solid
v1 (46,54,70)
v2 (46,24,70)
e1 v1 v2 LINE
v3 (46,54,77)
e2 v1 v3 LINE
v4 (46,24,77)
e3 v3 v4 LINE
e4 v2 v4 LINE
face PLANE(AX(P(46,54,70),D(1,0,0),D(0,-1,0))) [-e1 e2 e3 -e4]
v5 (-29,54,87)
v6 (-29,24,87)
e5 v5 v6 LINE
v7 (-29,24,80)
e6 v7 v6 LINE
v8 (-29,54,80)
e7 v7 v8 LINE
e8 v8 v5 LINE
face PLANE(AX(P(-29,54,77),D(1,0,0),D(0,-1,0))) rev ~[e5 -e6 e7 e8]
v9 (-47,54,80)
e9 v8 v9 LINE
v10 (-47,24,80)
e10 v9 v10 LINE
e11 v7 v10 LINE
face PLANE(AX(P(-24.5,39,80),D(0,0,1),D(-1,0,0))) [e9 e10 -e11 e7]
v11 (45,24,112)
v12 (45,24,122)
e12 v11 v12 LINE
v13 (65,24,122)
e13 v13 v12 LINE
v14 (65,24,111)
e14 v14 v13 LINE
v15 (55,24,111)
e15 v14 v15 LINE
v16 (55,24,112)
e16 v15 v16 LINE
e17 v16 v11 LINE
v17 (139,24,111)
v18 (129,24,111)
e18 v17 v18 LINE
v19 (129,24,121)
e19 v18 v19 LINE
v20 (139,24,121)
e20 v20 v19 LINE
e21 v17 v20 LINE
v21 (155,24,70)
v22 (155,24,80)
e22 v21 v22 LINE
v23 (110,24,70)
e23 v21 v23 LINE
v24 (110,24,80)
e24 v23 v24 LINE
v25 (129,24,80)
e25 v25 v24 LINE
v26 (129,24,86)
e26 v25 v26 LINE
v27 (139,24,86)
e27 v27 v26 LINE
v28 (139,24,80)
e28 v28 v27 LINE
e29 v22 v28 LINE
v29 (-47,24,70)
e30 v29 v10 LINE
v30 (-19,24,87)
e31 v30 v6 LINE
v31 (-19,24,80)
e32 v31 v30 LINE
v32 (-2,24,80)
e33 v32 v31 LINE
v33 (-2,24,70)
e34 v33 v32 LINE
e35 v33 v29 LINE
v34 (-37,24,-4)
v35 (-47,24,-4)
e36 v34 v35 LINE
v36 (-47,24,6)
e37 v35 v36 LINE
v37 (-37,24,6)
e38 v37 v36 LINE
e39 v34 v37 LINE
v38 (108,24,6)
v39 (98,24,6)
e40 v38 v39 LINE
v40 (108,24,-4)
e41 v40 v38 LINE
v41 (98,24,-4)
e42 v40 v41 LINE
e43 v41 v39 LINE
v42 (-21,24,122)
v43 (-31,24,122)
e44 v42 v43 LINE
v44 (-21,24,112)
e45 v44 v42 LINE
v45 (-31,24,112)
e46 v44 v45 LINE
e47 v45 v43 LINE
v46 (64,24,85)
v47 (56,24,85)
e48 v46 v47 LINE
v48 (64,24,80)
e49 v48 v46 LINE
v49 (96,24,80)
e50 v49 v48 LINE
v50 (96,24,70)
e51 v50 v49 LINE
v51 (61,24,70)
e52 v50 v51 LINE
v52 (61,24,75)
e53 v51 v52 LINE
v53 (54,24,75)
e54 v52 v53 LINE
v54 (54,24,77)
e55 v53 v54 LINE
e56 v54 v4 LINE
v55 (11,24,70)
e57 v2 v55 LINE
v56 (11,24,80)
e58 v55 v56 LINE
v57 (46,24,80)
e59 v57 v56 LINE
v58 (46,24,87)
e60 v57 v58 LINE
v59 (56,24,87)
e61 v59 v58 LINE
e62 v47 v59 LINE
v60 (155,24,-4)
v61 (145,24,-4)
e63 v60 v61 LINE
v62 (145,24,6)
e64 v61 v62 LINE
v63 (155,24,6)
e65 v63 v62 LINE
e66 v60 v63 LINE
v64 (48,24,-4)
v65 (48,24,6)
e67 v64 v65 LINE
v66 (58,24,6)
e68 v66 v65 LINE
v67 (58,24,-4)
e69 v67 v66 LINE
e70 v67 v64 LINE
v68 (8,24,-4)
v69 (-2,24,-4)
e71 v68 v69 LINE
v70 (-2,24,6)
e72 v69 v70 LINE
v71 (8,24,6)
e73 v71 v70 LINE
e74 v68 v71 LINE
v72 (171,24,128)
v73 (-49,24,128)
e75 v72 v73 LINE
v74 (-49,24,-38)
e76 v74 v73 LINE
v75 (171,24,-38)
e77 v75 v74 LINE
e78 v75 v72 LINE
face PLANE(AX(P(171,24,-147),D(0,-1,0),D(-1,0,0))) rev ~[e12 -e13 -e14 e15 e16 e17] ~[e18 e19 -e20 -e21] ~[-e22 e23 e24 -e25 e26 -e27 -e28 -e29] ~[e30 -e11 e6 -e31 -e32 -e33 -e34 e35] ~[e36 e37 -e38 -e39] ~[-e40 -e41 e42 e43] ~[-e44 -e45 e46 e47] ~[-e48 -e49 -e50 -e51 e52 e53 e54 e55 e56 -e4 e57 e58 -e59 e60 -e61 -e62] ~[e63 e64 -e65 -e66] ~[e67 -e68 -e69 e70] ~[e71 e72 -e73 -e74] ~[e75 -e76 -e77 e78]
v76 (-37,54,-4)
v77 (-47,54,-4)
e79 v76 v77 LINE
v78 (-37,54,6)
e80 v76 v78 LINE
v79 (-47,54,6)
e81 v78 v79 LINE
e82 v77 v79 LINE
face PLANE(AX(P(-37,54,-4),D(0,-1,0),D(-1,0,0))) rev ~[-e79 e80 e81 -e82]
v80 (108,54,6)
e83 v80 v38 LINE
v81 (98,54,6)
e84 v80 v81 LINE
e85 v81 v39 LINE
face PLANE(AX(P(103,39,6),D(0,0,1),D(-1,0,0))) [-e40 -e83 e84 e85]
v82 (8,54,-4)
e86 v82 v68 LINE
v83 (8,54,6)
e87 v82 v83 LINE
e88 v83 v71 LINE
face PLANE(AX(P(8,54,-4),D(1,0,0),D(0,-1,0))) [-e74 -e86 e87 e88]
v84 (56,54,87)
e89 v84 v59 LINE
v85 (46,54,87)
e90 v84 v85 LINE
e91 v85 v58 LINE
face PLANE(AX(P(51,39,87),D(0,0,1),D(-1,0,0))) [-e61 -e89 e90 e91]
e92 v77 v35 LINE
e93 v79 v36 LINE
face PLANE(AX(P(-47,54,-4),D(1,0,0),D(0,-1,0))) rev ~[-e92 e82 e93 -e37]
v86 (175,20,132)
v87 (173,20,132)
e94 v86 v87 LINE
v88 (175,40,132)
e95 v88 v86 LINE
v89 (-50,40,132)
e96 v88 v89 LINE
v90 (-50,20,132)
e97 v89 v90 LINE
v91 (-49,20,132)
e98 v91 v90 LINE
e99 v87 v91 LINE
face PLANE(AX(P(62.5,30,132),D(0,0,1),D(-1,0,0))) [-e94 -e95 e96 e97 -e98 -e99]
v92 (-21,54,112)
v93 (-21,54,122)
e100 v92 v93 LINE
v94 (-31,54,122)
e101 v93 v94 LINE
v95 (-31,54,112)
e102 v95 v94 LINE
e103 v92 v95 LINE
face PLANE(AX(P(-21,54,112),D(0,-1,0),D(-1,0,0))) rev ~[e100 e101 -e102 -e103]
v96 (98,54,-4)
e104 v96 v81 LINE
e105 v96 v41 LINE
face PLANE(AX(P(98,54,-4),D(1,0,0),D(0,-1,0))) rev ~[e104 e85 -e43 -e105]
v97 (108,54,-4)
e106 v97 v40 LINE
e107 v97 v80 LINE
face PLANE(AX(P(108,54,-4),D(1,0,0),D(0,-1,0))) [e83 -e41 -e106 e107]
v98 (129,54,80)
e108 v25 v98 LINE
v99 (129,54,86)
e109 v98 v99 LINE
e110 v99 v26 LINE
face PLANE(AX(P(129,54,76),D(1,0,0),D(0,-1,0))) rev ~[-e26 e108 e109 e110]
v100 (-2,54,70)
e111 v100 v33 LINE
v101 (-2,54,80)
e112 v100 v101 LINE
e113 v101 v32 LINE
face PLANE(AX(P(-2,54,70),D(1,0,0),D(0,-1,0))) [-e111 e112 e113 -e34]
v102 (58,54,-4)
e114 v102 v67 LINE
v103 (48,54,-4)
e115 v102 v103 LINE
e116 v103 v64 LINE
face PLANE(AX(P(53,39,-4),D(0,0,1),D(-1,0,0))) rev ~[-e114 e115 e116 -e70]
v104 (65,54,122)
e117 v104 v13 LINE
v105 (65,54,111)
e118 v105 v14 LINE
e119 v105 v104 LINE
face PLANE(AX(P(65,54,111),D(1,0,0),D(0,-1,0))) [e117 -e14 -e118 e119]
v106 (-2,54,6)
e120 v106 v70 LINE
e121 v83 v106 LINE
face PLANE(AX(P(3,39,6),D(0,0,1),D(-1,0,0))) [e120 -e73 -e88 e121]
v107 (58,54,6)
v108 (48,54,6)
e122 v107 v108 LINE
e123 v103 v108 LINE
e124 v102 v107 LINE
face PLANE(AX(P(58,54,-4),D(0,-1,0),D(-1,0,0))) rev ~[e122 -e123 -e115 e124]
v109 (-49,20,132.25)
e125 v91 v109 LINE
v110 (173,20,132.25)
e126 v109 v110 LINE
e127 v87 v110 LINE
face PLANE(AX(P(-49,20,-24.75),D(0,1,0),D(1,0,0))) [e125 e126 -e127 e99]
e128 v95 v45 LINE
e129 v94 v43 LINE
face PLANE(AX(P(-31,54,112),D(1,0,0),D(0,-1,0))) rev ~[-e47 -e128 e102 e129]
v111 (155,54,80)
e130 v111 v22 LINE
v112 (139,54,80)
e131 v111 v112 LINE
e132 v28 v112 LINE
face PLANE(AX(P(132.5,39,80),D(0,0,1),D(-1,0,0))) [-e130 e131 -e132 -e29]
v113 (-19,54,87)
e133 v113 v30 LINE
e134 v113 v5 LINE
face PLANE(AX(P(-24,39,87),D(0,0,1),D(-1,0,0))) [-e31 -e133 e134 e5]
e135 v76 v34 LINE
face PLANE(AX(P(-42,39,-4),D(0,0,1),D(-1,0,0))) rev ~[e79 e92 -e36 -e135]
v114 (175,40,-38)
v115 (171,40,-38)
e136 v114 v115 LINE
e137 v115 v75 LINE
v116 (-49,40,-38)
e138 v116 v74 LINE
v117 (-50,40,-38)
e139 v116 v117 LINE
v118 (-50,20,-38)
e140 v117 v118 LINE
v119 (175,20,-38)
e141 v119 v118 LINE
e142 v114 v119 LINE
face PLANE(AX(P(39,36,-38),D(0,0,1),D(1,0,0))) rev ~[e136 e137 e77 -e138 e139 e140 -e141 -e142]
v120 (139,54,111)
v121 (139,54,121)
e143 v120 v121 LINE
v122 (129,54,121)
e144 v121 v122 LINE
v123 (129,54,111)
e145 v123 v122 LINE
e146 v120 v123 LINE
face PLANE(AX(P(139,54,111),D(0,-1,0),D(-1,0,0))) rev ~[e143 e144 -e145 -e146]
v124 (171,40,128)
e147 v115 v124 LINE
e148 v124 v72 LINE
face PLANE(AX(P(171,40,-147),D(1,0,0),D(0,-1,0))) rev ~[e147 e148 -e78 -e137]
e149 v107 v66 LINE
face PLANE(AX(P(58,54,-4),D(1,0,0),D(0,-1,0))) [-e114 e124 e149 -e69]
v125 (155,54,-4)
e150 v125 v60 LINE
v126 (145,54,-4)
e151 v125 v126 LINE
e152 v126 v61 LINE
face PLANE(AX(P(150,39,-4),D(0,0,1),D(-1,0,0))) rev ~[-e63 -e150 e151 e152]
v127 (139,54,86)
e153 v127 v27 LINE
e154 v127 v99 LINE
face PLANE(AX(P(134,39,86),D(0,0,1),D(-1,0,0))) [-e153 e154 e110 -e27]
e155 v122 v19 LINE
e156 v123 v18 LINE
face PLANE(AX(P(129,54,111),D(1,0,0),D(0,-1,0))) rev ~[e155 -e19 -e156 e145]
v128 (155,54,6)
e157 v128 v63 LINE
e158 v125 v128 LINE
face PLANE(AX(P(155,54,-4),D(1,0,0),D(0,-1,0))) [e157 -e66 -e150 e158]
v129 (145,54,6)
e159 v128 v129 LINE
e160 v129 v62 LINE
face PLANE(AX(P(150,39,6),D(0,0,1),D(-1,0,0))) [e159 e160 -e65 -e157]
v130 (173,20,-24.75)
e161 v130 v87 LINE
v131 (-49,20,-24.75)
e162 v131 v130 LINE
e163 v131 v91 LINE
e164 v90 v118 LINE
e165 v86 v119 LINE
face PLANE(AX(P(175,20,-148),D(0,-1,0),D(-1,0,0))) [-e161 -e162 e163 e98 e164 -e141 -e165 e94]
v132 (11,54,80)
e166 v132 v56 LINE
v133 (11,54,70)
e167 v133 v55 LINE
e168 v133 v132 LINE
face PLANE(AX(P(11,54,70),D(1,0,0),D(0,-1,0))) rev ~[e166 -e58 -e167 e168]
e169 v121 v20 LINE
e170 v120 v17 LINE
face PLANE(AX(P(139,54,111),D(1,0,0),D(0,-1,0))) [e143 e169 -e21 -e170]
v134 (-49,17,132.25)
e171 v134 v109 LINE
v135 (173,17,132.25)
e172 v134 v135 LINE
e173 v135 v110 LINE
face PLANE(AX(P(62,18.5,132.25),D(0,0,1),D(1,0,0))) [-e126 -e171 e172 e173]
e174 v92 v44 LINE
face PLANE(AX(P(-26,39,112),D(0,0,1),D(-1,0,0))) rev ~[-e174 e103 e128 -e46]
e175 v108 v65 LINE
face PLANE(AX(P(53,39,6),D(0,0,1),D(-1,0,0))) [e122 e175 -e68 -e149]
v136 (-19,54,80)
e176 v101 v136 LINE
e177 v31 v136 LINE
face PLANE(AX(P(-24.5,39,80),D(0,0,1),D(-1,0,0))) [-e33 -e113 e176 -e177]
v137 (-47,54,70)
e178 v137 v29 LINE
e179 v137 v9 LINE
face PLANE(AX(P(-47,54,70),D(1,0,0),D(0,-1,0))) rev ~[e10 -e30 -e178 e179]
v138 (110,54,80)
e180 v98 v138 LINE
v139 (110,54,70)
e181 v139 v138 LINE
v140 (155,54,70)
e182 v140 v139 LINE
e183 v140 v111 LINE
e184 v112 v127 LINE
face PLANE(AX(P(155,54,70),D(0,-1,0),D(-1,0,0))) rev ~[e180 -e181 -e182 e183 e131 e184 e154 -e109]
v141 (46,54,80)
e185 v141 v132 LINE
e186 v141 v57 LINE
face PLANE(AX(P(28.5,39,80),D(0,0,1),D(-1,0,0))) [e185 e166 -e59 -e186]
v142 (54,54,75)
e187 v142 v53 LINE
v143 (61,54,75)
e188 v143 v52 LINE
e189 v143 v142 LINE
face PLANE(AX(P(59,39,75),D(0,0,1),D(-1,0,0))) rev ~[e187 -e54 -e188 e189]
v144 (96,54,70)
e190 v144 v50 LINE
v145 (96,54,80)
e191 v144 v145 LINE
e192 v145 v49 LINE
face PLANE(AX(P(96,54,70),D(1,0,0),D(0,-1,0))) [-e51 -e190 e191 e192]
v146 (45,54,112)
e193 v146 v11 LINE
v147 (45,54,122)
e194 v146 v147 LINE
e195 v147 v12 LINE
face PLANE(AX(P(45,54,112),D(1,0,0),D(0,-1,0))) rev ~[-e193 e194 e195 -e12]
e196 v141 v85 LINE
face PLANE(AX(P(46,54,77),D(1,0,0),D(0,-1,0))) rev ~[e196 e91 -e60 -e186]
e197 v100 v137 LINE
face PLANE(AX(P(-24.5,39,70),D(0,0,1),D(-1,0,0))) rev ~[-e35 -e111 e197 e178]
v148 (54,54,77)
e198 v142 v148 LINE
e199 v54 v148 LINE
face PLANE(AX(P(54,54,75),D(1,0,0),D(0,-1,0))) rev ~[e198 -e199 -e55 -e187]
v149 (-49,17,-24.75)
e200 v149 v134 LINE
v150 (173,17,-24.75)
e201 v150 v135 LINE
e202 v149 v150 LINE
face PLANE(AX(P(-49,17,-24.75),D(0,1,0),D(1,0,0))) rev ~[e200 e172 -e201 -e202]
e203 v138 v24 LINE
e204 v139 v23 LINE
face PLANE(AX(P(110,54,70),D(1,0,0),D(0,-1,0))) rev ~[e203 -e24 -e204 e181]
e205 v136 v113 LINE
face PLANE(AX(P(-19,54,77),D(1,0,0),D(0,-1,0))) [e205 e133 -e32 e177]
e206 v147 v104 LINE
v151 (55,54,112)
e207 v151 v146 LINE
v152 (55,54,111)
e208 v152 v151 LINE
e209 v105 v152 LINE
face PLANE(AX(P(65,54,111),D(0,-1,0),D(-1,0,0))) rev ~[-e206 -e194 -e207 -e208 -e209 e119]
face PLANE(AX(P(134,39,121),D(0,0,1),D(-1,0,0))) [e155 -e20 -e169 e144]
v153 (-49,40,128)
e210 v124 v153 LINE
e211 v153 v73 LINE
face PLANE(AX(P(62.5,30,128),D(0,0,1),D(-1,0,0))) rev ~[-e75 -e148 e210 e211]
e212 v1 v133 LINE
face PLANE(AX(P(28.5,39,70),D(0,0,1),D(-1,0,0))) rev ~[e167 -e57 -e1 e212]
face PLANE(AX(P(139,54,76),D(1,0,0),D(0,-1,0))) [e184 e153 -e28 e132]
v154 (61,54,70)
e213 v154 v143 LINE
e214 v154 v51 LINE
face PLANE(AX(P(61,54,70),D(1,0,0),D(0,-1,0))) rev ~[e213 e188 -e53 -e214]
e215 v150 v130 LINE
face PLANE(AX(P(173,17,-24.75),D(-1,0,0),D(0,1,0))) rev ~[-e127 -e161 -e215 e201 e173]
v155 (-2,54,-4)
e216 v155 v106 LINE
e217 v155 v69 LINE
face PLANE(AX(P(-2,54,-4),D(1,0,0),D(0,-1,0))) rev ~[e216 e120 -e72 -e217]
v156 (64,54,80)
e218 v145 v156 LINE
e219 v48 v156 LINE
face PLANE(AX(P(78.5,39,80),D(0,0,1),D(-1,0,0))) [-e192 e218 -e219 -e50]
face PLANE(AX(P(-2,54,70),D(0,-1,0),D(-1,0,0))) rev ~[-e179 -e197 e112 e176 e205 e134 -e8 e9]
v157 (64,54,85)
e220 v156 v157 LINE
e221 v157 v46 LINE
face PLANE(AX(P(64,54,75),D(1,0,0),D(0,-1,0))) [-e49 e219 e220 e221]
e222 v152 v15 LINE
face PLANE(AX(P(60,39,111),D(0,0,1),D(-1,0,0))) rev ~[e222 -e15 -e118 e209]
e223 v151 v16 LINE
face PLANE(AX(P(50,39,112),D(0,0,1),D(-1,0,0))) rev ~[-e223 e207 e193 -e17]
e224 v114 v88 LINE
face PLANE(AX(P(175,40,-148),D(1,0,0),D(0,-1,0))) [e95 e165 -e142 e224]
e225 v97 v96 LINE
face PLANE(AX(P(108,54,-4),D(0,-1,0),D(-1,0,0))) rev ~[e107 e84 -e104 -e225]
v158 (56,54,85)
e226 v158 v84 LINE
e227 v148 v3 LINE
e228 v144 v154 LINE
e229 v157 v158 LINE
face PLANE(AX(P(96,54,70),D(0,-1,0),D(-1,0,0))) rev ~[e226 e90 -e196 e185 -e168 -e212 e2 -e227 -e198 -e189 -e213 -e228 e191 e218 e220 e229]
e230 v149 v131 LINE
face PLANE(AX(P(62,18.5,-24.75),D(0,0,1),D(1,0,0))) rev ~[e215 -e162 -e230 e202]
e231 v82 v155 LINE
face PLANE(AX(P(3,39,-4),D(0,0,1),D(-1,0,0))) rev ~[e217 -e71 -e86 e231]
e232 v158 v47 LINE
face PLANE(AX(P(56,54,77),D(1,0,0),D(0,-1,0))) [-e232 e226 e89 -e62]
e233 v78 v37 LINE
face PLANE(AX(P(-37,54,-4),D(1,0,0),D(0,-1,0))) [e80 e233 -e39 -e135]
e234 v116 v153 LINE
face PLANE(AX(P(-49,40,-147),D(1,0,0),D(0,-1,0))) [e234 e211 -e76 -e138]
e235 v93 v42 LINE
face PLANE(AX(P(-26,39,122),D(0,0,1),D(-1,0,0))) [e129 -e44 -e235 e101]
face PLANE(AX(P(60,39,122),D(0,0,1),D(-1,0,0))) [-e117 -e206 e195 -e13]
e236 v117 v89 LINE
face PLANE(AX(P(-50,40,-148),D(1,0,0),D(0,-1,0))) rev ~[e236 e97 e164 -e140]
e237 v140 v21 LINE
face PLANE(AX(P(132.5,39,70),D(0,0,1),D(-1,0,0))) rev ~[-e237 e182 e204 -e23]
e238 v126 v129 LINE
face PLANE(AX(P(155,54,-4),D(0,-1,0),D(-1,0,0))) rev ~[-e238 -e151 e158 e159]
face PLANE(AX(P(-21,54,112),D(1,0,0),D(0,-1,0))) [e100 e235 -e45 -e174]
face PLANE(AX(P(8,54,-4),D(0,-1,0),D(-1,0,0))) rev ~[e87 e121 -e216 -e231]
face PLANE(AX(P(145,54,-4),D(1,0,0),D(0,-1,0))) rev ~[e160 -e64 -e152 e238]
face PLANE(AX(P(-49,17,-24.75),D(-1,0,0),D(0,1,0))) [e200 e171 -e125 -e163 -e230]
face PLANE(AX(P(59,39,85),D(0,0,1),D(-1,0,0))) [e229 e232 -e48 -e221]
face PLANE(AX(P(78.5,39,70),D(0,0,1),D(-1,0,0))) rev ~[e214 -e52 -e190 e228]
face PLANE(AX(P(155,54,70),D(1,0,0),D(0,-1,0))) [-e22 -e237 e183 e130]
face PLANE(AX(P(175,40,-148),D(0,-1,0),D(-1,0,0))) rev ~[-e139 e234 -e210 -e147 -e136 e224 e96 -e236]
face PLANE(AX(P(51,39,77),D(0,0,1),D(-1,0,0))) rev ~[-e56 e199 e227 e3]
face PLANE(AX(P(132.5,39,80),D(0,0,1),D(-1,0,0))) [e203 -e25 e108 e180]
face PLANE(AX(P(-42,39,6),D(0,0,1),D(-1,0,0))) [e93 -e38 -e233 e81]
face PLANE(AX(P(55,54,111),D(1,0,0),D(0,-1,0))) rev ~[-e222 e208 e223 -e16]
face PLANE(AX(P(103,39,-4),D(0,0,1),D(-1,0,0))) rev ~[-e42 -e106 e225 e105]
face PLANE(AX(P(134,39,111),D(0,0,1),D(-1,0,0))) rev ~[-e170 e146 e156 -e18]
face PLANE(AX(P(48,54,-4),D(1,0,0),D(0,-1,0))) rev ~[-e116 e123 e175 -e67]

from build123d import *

# Parameters (mm, degrees)
BOX039_W                  = 222
BOX039_H                  = 3
BOX039_DEPTH              = 157
BOX081_W                  = 300
BOX081_H                  = 50
BOX081_DEPTH              = 200
BOX114_W                  = 1
BOX114_H                  = 20
BOX114_DEPTH              = 275
BOX115_W                  = 4
BOX115_H                  = 20
BOX115_DEPTH              = 275
BOX116_W                  = 225
BOX116_H                  = 20
BOX116_DEPTH              = 4
BOX117_W                  = 225
BOX117_H                  = 20
BOX117_DEPTH              = 1
BOX103_W                  = 35
BOX103_H                  = 30
BOX103_DEPTH              = 10
BOX104_W                  = 10
BOX104_H                  = 30
BOX104_DEPTH              = 10
BOX105_W                  = 10
BOX105_H                  = 30
BOX105_DEPTH              = 10
BOX106_W                  = 10
BOX106_H                  = 28.9
BOX106_DEPTH              = 10
BOX091_W                  = 10
BOX091_H                  = 28.9
BOX091_DEPTH              = 10
BOX092_W                  = 10
BOX092_H                  = 28.9
BOX092_DEPTH              = 10
BOX094_W                  = 12
BOX094_H                  = 30
BOX094_DEPTH              = 10
BOX093_W                  = 10
BOX093_H                  = 28.9
BOX093_DEPTH              = 10
BOX095_W                  = 45
BOX095_H                  = 30
BOX095_DEPTH              = 10
BOX097_W                  = 45
BOX097_H                  = 30
BOX097_DEPTH              = 10
BOX096_W                  = 35
BOX096_H                  = 30
BOX096_DEPTH              = 10
BOX098_W                  = 35
BOX098_H                  = 30
BOX098_DEPTH              = 10
BOX099_W                  = 45
BOX099_H                  = 30
BOX099_DEPTH              = 10
BOX100_W                  = 35
BOX100_H                  = 30
BOX100_DEPTH              = 10
BOX101_W                  = 45
BOX101_H                  = 30
BOX101_DEPTH              = 10
BOX082_W                  = 10
BOX082_H                  = 30
BOX082_DEPTH              = 10
BOX102_W                  = 10
BOX102_H                  = 30
BOX102_DEPTH              = 10
BOX083_W                  = 18
BOX083_H                  = 30
BOX083_DEPTH              = 10
BOX084_W                  = 10
BOX084_H                  = 30
BOX084_DEPTH              = 10
BOX085_W                  = 10
BOX085_H                  = 30
BOX085_DEPTH              = 10
BOX086_W                  = 10
BOX086_H                  = 30
BOX086_DEPTH              = 10
BOX087_W                  = 10
BOX087_H                  = 30
BOX087_DEPTH              = 10
BOX113_W                  = 10
BOX113_H                  = 30
BOX113_DEPTH              = 10
BOX112_W                  = 10
BOX112_H                  = 30
BOX112_DEPTH              = 10
BOX111_W                  = 10
BOX111_H                  = 30
BOX111_DEPTH              = 10
BOX109_W                  = 10
BOX109_H                  = 30
BOX109_DEPTH              = 10
BOX108_W                  = 10
BOX108_H                  = 30
BOX108_DEPTH              = 10
BOX088_W                  = 10
BOX088_H                  = 30
BOX088_DEPTH              = 11
BOX089_W                  = 10
BOX089_H                  = 30
BOX089_DEPTH              = 10
BOX090_W                  = 10
BOX090_H                  = 30
BOX090_DEPTH              = 10
BOX110_W                  = 10
BOX110_H                  = 30
BOX110_DEPTH              = 10
BOX107_W                  = 220
BOX107_H                  = 4
BOX107_DEPTH              = 275
FUSION013_PLACEMENT_ANGLE = 180
BOX150_W                  = 1
BOX150_H                  = 20
BOX150_DEPTH              = 275
BOX151_W                  = 4
BOX151_H                  = 20
BOX151_DEPTH              = 275
BOX152_W                  = 225
BOX152_H                  = 20
BOX152_DEPTH              = 4
BOX153_W                  = 225
BOX153_H                  = 20
BOX153_DEPTH              = 1
BOX119_W                  = 35
BOX119_H                  = 30
BOX119_DEPTH              = 10
BOX120_W                  = 10
BOX120_H                  = 30
BOX120_DEPTH              = 10
BOX121_W                  = 10
BOX121_H                  = 30
BOX121_DEPTH              = 10
BOX122_W                  = 10
BOX122_H                  = 28.9
BOX122_DEPTH              = 10
BOX123_W                  = 10
BOX123_H                  = 28.9
BOX123_DEPTH              = 10
BOX124_W                  = 10
BOX124_H                  = 28.9
BOX124_DEPTH              = 10
BOX126_W                  = 12
BOX126_H                  = 30
BOX126_DEPTH              = 10
BOX125_W                  = 10
BOX125_H                  = 28.9
BOX125_DEPTH              = 10
BOX127_W                  = 45
BOX127_H                  = 30
BOX127_DEPTH              = 10
BOX129_W                  = 45
BOX129_H                  = 30
BOX129_DEPTH              = 10
BOX128_W                  = 35
BOX128_H                  = 30
BOX128_DEPTH              = 10
BOX130_W                  = 35
BOX130_H                  = 30
BOX130_DEPTH              = 10
BOX131_W                  = 45
BOX131_H                  = 30
BOX131_DEPTH              = 10
BOX132_W                  = 35
BOX132_H                  = 30
BOX132_DEPTH              = 10
BOX133_W                  = 45
BOX133_H                  = 30
BOX133_DEPTH              = 10
BOX135_W                  = 10
BOX135_H                  = 30
BOX135_DEPTH              = 10
BOX134_W                  = 10
BOX134_H                  = 30
BOX134_DEPTH              = 10
BOX136_W                  = 18
BOX136_H                  = 30
BOX136_DEPTH              = 10
BOX137_W                  = 10
BOX137_H                  = 30
BOX137_DEPTH              = 10
BOX138_W                  = 10
BOX138_H                  = 30
BOX138_DEPTH              = 10
BOX139_W                  = 10
BOX139_H                  = 30
BOX139_DEPTH              = 10
BOX140_W                  = 10
BOX140_H                  = 30
BOX140_DEPTH              = 10
BOX149_W                  = 10
BOX149_H                  = 30
BOX149_DEPTH              = 10
BOX148_W                  = 10
BOX148_H                  = 30
BOX148_DEPTH              = 10
BOX147_W                  = 10
BOX147_H                  = 30
BOX147_DEPTH              = 10
BOX145_W                  = 10
BOX145_H                  = 30
BOX145_DEPTH              = 10
BOX144_W                  = 10
BOX144_H                  = 30
BOX144_DEPTH              = 10
BOX141_W                  = 10
BOX141_H                  = 30
BOX141_DEPTH              = 11
BOX142_W                  = 10
BOX142_H                  = 30
BOX142_DEPTH              = 10
BOX143_W                  = 10
BOX143_H                  = 30
BOX143_DEPTH              = 10
BOX146_W                  = 10
BOX146_H                  = 30
BOX146_DEPTH              = 10
BOX118_W                  = 220
BOX118_H                  = 4
BOX118_DEPTH              = 275
FUSION015_PLACEMENT_ANGLE = 180


with BuildPart() as cubo039:
    # Box039 → Box039 (new body)
    with BuildSketch(Plane(origin=(-49, 17, -24.75), x_dir=(1, 0, 0), z_dir=(0, 0, 1))):
        with Locations((111, 1.5)):
            Rectangle(BOX039_W, BOX039_H)
    extrude(amount=BOX039_DEPTH)


with BuildPart() as cubo081:
    # Box081 → Box081 (new body)
    with BuildSketch(Plane(origin=(-111, 11, -38), x_dir=(1, 0, 0), z_dir=(0, 0, 1))):
        with Locations((150, 25)):
            Rectangle(BOX081_W, BOX081_H)
    extrude(amount=BOX081_DEPTH)


with BuildPart() as cubo114:
    # Box114 → Box114 (new body)
    with BuildSketch(Plane(origin=(-49, 40, -147), x_dir=(-1, 0, 0), z_dir=(0, 0, 1))):
        with Locations((0.5, 10)):
            Rectangle(BOX114_W, BOX114_H)
    extrude(amount=BOX114_DEPTH)


with BuildPart() as cubo115:
    # Box115 → Box115 (new body)
    with BuildSketch(Plane(origin=(175, 40, -147), x_dir=(-1, 0, 0), z_dir=(0, 0, 1))):
        with Locations((2, 10)):
            Rectangle(BOX115_W, BOX115_H)
    extrude(amount=BOX115_DEPTH)


with BuildPart() as cubo116:
    # Box116 → Box116 (new body)
    with BuildSketch(Plane(origin=(175, 40, 128), x_dir=(-1, 0, 0), z_dir=(0, 0, 1))):
        with Locations((112.5, 10)):
            Rectangle(BOX116_W, BOX116_H)
    extrude(amount=BOX116_DEPTH)


with BuildPart() as cubo117:
    # Box117 → Box117 (new body)
    with BuildSketch(Plane(origin=(175, 40, -148), x_dir=(-1, 0, 0), z_dir=(0, 0, 1))):
        with Locations((112.5, 10)):
            Rectangle(BOX117_W, BOX117_H)
    extrude(amount=BOX117_DEPTH)


with BuildPart() as cubo103:
    # Box103 → Box103 (new body)
    with BuildSketch(Plane(origin=(-96, -54, 70), x_dir=(1, 0, 0), z_dir=(0, 0, 1))):
        with Locations((17.5, 15)):
            Rectangle(BOX103_W, BOX103_H)
    extrude(amount=BOX103_DEPTH)


with BuildPart() as cubo104:
    # Box104 → Box104 (new body)
    with BuildSketch(Plane(origin=(-142, -54, -110), x_dir=(1, 0, 0), z_dir=(0, 0, 1))):
        with Locations((5, 15)):
            Rectangle(BOX104_W, BOX104_H)
    extrude(amount=BOX104_DEPTH)


with BuildPart() as cubo105:
    # Box105 → Box105 (new body)
    with BuildSketch(Plane(origin=(-142, -54, -125), x_dir=(1, 0, 0), z_dir=(0, 0, 1))):
        with Locations((5, 15)):
            Rectangle(BOX105_W, BOX105_H)
    extrude(amount=BOX105_DEPTH)


with BuildPart() as cubo106:
    # Box106 → Box106 (new body)
    with BuildSketch(Plane(origin=(-106, -54, -115), x_dir=(1, 0, 0), z_dir=(0, 0, 1))):
        with Locations((5, 14.45)):
            Rectangle(BOX106_W, BOX106_H)
    extrude(amount=BOX106_DEPTH)


with BuildPart() as cubo091:
    # Box091 → Box091 (new body)
    with BuildSketch(Plane(origin=(-142, -54, -146), x_dir=(1, 0, 0), z_dir=(0, 0, 1))):
        with Locations((5, 14.45)):
            Rectangle(BOX091_W, BOX091_H)
    extrude(amount=BOX091_DEPTH)


with BuildPart() as cubo092:
    # Box092 → Box092 (new body)
    with BuildSketch(Plane(origin=(-59, -54, -146), x_dir=(1, 0, 0), z_dir=(0, 0, 1))):
        with Locations((5, 14.45)):
            Rectangle(BOX092_W, BOX092_H)
    extrude(amount=BOX092_DEPTH)


with BuildPart() as cubo094:
    # Box094 → Box094 (new body)
    with BuildSketch(Plane(origin=(-59, -54, -109), x_dir=(1, 0, 0), z_dir=(0, 0, 1))):
        with Locations((6, 15)):
            Rectangle(BOX094_W, BOX094_H)
    extrude(amount=BOX094_DEPTH)


with BuildPart() as cubo093:
    # Box093 → Box093 (new body)
    with BuildSketch(Plane(origin=(-59, -54, -125), x_dir=(1, 0, 0), z_dir=(0, 0, 1))):
        with Locations((5, 14.45)):
            Rectangle(BOX093_W, BOX093_H)
    extrude(amount=BOX093_DEPTH)


with BuildPart() as cubo095:
    # Box095 → Box095 (new body)
    with BuildSketch(Plane(origin=(-155, -54, 70), x_dir=(1, 0, 0), z_dir=(0, 0, 1))):
        with Locations((22.5, 15)):
            Rectangle(BOX095_W, BOX095_H)
    extrude(amount=BOX095_DEPTH)


with BuildPart() as cubo097:
    # Box097 → Box097 (new body)
    with BuildSketch(Plane(origin=(2, -54, 70), x_dir=(1, 0, 0), z_dir=(0, 0, 1))):
        with Locations((22.5, 15)):
            Rectangle(BOX097_W, BOX097_H)
    extrude(amount=BOX097_DEPTH)


with BuildPart() as cubo096:
    # Box096 → Box096 (new body)
    with BuildSketch(Plane(origin=(-46, -54, 70), x_dir=(1, 0, 0), z_dir=(0, 0, 1))):
        with Locations((17.5, 15)):
            Rectangle(BOX096_W, BOX096_H)
    extrude(amount=BOX096_DEPTH)


with BuildPart() as cubo098:
    # Box098 → Box098 (new body)
    with BuildSketch(Plane(origin=(-96, -54, -77), x_dir=(1, 0, 0), z_dir=(0, 0, 1))):
        with Locations((17.5, 15)):
            Rectangle(BOX098_W, BOX098_H)
    extrude(amount=BOX098_DEPTH)


with BuildPart() as cubo099:
    # Box099 → Box099 (new body)
    with BuildSketch(Plane(origin=(-155, -54, -77), x_dir=(1, 0, 0), z_dir=(0, 0, 1))):
        with Locations((22.5, 15)):
            Rectangle(BOX099_W, BOX099_H)
    extrude(amount=BOX099_DEPTH)


with BuildPart() as cubo100:
    # Box100 → Box100 (new body)
    with BuildSketch(Plane(origin=(-46, -54, -77), x_dir=(1, 0, 0), z_dir=(0, 0, 1))):
        with Locations((17.5, 15)):
            Rectangle(BOX100_W, BOX100_H)
    extrude(amount=BOX100_DEPTH)


with BuildPart() as cubo101:
    # Box101 → Box101 (new body)
    with BuildSketch(Plane(origin=(2, -54, -78), x_dir=(1, 0, 0), z_dir=(0, 0, 1))):
        with Locations((22.5, 15)):
            Rectangle(BOX101_W, BOX101_H)
    extrude(amount=BOX101_DEPTH)


with BuildPart() as cubo082:
    # Box082 → Box082 (new body)
    with BuildSketch(Plane(origin=(35, -54, -128), x_dir=(1, 0, 0), z_dir=(0, 0, 1))):
        with Locations((5, 15)):
            Rectangle(BOX082_W, BOX082_H)
    extrude(amount=BOX082_DEPTH)


with BuildPart() as cubo102:
    # Box102 → Box102 (new body)
    with BuildSketch(Plane(origin=(-25, -54, -128), x_dir=(1, 0, 0), z_dir=(0, 0, 1))):
        with Locations((5, 15)):
            Rectangle(BOX102_W, BOX102_H)
    extrude(amount=BOX102_DEPTH)


with BuildPart() as cubo083:
    # Box083 → Box083 (new body)
    with BuildSketch(Plane(origin=(2, -54, -86), x_dir=(1, 0, 0), z_dir=(0, 0, 1))):
        with Locations((9, 15)):
            Rectangle(BOX083_W, BOX083_H)
    extrude(amount=BOX083_DEPTH)


with BuildPart() as cubo084:
    # Box084 → Box084 (new body)
    with BuildSketch(Plane(origin=(-56, -54, 77), x_dir=(1, 0, 0), z_dir=(0, 0, 1))):
        with Locations((5, 15)):
            Rectangle(BOX084_W, BOX084_H)
    extrude(amount=BOX084_DEPTH)


with BuildPart() as cubo085:
    # Box085 → Box085 (new body)
    with BuildSketch(Plane(origin=(21, -54, 112), x_dir=(1, 0, 0), z_dir=(0, 0, 1))):
        with Locations((5, 15)):
            Rectangle(BOX085_W, BOX085_H)
    extrude(amount=BOX085_DEPTH)


with BuildPart() as cubo086:
    # Box086 → Box086 (new body)
    with BuildSketch(Plane(origin=(-55, -54, 112), x_dir=(1, 0, 0), z_dir=(0, 0, 1))):
        with Locations((5, 15)):
            Rectangle(BOX086_W, BOX086_H)
    extrude(amount=BOX086_DEPTH)


with BuildPart() as cubo087:
    # Box087 → Box087 (new body)
    with BuildSketch(Plane(origin=(19, -54, 77), x_dir=(1, 0, 0), z_dir=(0, 0, 1))):
        with Locations((5, 15)):
            Rectangle(BOX087_W, BOX087_H)
    extrude(amount=BOX087_DEPTH)


with BuildPart() as cubo113:
    # Box113 → Box113 (new body)
    with BuildSketch(Plane(origin=(-8, -54, -4), x_dir=(1, 0, 0), z_dir=(0, 0, 1))):
        with Locations((5, 15)):
            Rectangle(BOX113_W, BOX113_H)
    extrude(amount=BOX113_DEPTH)


with BuildPart() as cubo112:
    # Box112 → Box112 (new body)
    with BuildSketch(Plane(origin=(-58, -54, -4), x_dir=(1, 0, 0), z_dir=(0, 0, 1))):
        with Locations((5, 15)):
            Rectangle(BOX112_W, BOX112_H)
    extrude(amount=BOX112_DEPTH)


with BuildPart() as cubo111:
    # Box111 → Box111 (new body)
    with BuildSketch(Plane(origin=(-108, -54, -4), x_dir=(1, 0, 0), z_dir=(0, 0, 1))):
        with Locations((5, 15)):
            Rectangle(BOX111_W, BOX111_H)
    extrude(amount=BOX111_DEPTH)


with BuildPart() as cubo109:
    # Box109 → Box109 (new body)
    with BuildSketch(Plane(origin=(-155, -54, -4), x_dir=(1, 0, 0), z_dir=(0, 0, 1))):
        with Locations((5, 15)):
            Rectangle(BOX109_W, BOX109_H)
    extrude(amount=BOX109_DEPTH)


with BuildPart() as cubo108:
    # Box108 → Box108 (new body)
    with BuildSketch(Plane(origin=(-64, -54, 75), x_dir=(1, 0, 0), z_dir=(0, 0, 1))):
        with Locations((5, 15)):
            Rectangle(BOX108_W, BOX108_H)
    extrude(amount=BOX108_DEPTH)


with BuildPart() as cubo088:
    # Box088 → Box088 (new body)
    with BuildSketch(Plane(origin=(-65, -54, 111), x_dir=(1, 0, 0), z_dir=(0, 0, 1))):
        with Locations((5, 15)):
            Rectangle(BOX088_W, BOX088_H)
    extrude(amount=BOX088_DEPTH)


with BuildPart() as cubo089:
    # Box089 → Box089 (new body)
    with BuildSketch(Plane(origin=(-139, -54, 111), x_dir=(1, 0, 0), z_dir=(0, 0, 1))):
        with Locations((5, 15)):
            Rectangle(BOX089_W, BOX089_H)
    extrude(amount=BOX089_DEPTH)


with BuildPart() as cubo090:
    # Box090 → Box090 (new body)
    with BuildSketch(Plane(origin=(-139, -54, 76), x_dir=(1, 0, 0), z_dir=(0, 0, 1))):
        with Locations((5, 15)):
            Rectangle(BOX090_W, BOX090_H)
    extrude(amount=BOX090_DEPTH)


with BuildPart() as cubo110:
    # Box110 → Box110 (new body)
    with BuildSketch(Plane(origin=(37, -54, -4), x_dir=(1, 0, 0), z_dir=(0, 0, 1))):
        with Locations((5, 15)):
            Rectangle(BOX110_W, BOX110_H)
    extrude(amount=BOX110_DEPTH)


with BuildPart() as cut004:
    # Box107 → Box107 (new body)
    with BuildSketch(Plane(origin=(-171, -24, -147), x_dir=(1, 0, 0), z_dir=(0, 0, 1))):
        with Locations((110, 2)):
            Rectangle(BOX107_W, BOX107_H)
    extrude(amount=BOX107_DEPTH)

    # Fusion013: union Cubo103, Cubo104, Cubo105, Cubo106, Cubo091, Cubo092, Cubo094, Cubo093, Cubo095, Cubo097, Cubo096, Cubo098, Cubo099, Cubo100, Cubo101, Cubo082, Cubo102, Cubo083, Cubo084, Cubo085, Cubo086, Cubo087, Cubo113, Cubo112, Cubo111, Cubo109, Cubo108, Cubo088, Cubo089, Cubo090, Cubo110
    add(cubo103.part)
    add(cubo104.part)
    add(cubo105.part)
    add(cubo106.part)
    add(cubo091.part)
    add(cubo092.part)
    add(cubo094.part)
    add(cubo093.part)
    add(cubo095.part)
    add(cubo097.part)
    add(cubo096.part)
    add(cubo098.part)
    add(cubo099.part)
    add(cubo100.part)
    add(cubo101.part)
    add(cubo082.part)
    add(cubo102.part)
    add(cubo083.part)
    add(cubo084.part)
    add(cubo085.part)
    add(cubo086.part)
    add(cubo087.part)
    add(cubo113.part)
    add(cubo112.part)
    add(cubo111.part)
    add(cubo109.part)
    add(cubo108.part)
    add(cubo088.part)
    add(cubo089.part)
    add(cubo090.part)
    add(cubo110.part)


with BuildPart() as cut004_1:
    # Fusion013 placement: moved
    add(cut004.part.rotate(Axis((0, 0, 0), (0, 0, 1)), FUSION013_PLACEMENT_ANGLE))

    # Fusion014: union Cubo114, Cubo115, Cubo116, Cubo117
    add(cubo114.part)
    add(cubo115.part)
    add(cubo116.part)
    add(cubo117.part)

    # Cut004: cut Cubo081
    add(cubo081.part, mode=Mode.SUBTRACT)


with BuildPart() as cubo150:
    # Box150 → Box150 (new body)
    with BuildSketch(Plane(origin=(-49, 40, -147), x_dir=(-1, 0, 0), z_dir=(0, 0, 1))):
        with Locations((0.5, 10)):
            Rectangle(BOX150_W, BOX150_H)
    extrude(amount=BOX150_DEPTH)


with BuildPart() as cubo151:
    # Box151 → Box151 (new body)
    with BuildSketch(Plane(origin=(175, 40, -147), x_dir=(-1, 0, 0), z_dir=(0, 0, 1))):
        with Locations((2, 10)):
            Rectangle(BOX151_W, BOX151_H)
    extrude(amount=BOX151_DEPTH)


with BuildPart() as cubo152:
    # Box152 → Box152 (new body)
    with BuildSketch(Plane(origin=(175, 40, 128), x_dir=(-1, 0, 0), z_dir=(0, 0, 1))):
        with Locations((112.5, 10)):
            Rectangle(BOX152_W, BOX152_H)
    extrude(amount=BOX152_DEPTH)


with BuildPart() as cubo153:
    # Box153 → Box153 (new body)
    with BuildSketch(Plane(origin=(175, 40, -148), x_dir=(-1, 0, 0), z_dir=(0, 0, 1))):
        with Locations((112.5, 10)):
            Rectangle(BOX153_W, BOX153_H)
    extrude(amount=BOX153_DEPTH)


with BuildPart() as cubo119:
    # Box119 → Box119 (new body)
    with BuildSketch(Plane(origin=(-96, -54, 70), x_dir=(1, 0, 0), z_dir=(0, 0, 1))):
        with Locations((17.5, 15)):
            Rectangle(BOX119_W, BOX119_H)
    extrude(amount=BOX119_DEPTH)


with BuildPart() as cubo120:
    # Box120 → Box120 (new body)
    with BuildSketch(Plane(origin=(-142, -54, -110), x_dir=(1, 0, 0), z_dir=(0, 0, 1))):
        with Locations((5, 15)):
            Rectangle(BOX120_W, BOX120_H)
    extrude(amount=BOX120_DEPTH)


with BuildPart() as cubo121:
    # Box121 → Box121 (new body)
    with BuildSketch(Plane(origin=(-142, -54, -125), x_dir=(1, 0, 0), z_dir=(0, 0, 1))):
        with Locations((5, 15)):
            Rectangle(BOX121_W, BOX121_H)
    extrude(amount=BOX121_DEPTH)


with BuildPart() as cubo122:
    # Box122 → Box122 (new body)
    with BuildSketch(Plane(origin=(-106, -54, -115), x_dir=(1, 0, 0), z_dir=(0, 0, 1))):
        with Locations((5, 14.45)):
            Rectangle(BOX122_W, BOX122_H)
    extrude(amount=BOX122_DEPTH)


with BuildPart() as cubo123:
    # Box123 → Box123 (new body)
    with BuildSketch(Plane(origin=(-142, -54, -146), x_dir=(1, 0, 0), z_dir=(0, 0, 1))):
        with Locations((5, 14.45)):
            Rectangle(BOX123_W, BOX123_H)
    extrude(amount=BOX123_DEPTH)


with BuildPart() as cubo124:
    # Box124 → Box124 (new body)
    with BuildSketch(Plane(origin=(-59, -54, -146), x_dir=(1, 0, 0), z_dir=(0, 0, 1))):
        with Locations((5, 14.45)):
            Rectangle(BOX124_W, BOX124_H)
    extrude(amount=BOX124_DEPTH)


with BuildPart() as cubo126:
    # Box126 → Box126 (new body)
    with BuildSketch(Plane(origin=(-59, -54, -109), x_dir=(1, 0, 0), z_dir=(0, 0, 1))):
        with Locations((6, 15)):
            Rectangle(BOX126_W, BOX126_H)
    extrude(amount=BOX126_DEPTH)


with BuildPart() as cubo125:
    # Box125 → Box125 (new body)
    with BuildSketch(Plane(origin=(-59, -54, -125), x_dir=(1, 0, 0), z_dir=(0, 0, 1))):
        with Locations((5, 14.45)):
            Rectangle(BOX125_W, BOX125_H)
    extrude(amount=BOX125_DEPTH)


with BuildPart() as cubo127:
    # Box127 → Box127 (new body)
    with BuildSketch(Plane(origin=(-155, -54, 70), x_dir=(1, 0, 0), z_dir=(0, 0, 1))):
        with Locations((22.5, 15)):
            Rectangle(BOX127_W, BOX127_H)
    extrude(amount=BOX127_DEPTH)


with BuildPart() as cubo129:
    # Box129 → Box129 (new body)
    with BuildSketch(Plane(origin=(2, -54, 70), x_dir=(1, 0, 0), z_dir=(0, 0, 1))):
        with Locations((22.5, 15)):
            Rectangle(BOX129_W, BOX129_H)
    extrude(amount=BOX129_DEPTH)


with BuildPart() as cubo128:
    # Box128 → Box128 (new body)
    with BuildSketch(Plane(origin=(-46, -54, 70), x_dir=(1, 0, 0), z_dir=(0, 0, 1))):
        with Locations((17.5, 15)):
            Rectangle(BOX128_W, BOX128_H)
    extrude(amount=BOX128_DEPTH)


with BuildPart() as cubo130:
    # Box130 → Box130 (new body)
    with BuildSketch(Plane(origin=(-96, -54, -77), x_dir=(1, 0, 0), z_dir=(0, 0, 1))):
        with Locations((17.5, 15)):
            Rectangle(BOX130_W, BOX130_H)
    extrude(amount=BOX130_DEPTH)


with BuildPart() as cubo131:
    # Box131 → Box131 (new body)
    with BuildSketch(Plane(origin=(-155, -54, -77), x_dir=(1, 0, 0), z_dir=(0, 0, 1))):
        with Locations((22.5, 15)):
            Rectangle(BOX131_W, BOX131_H)
    extrude(amount=BOX131_DEPTH)


with BuildPart() as cubo132:
    # Box132 → Box132 (new body)
    with BuildSketch(Plane(origin=(-46, -54, -77), x_dir=(1, 0, 0), z_dir=(0, 0, 1))):
        with Locations((17.5, 15)):
            Rectangle(BOX132_W, BOX132_H)
    extrude(amount=BOX132_DEPTH)


with BuildPart() as cubo133:
    # Box133 → Box133 (new body)
    with BuildSketch(Plane(origin=(2, -54, -78), x_dir=(1, 0, 0), z_dir=(0, 0, 1))):
        with Locations((22.5, 15)):
            Rectangle(BOX133_W, BOX133_H)
    extrude(amount=BOX133_DEPTH)


with BuildPart() as cubo135:
    # Box135 → Box135 (new body)
    with BuildSketch(Plane(origin=(35, -54, -128), x_dir=(1, 0, 0), z_dir=(0, 0, 1))):
        with Locations((5, 15)):
            Rectangle(BOX135_W, BOX135_H)
    extrude(amount=BOX135_DEPTH)


with BuildPart() as cubo134:
    # Box134 → Box134 (new body)
    with BuildSketch(Plane(origin=(-25, -54, -128), x_dir=(1, 0, 0), z_dir=(0, 0, 1))):
        with Locations((5, 15)):
            Rectangle(BOX134_W, BOX134_H)
    extrude(amount=BOX134_DEPTH)


with BuildPart() as cubo136:
    # Box136 → Box136 (new body)
    with BuildSketch(Plane(origin=(2, -54, -86), x_dir=(1, 0, 0), z_dir=(0, 0, 1))):
        with Locations((9, 15)):
            Rectangle(BOX136_W, BOX136_H)
    extrude(amount=BOX136_DEPTH)


with BuildPart() as cubo137:
    # Box137 → Box137 (new body)
    with BuildSketch(Plane(origin=(-56, -54, 77), x_dir=(1, 0, 0), z_dir=(0, 0, 1))):
        with Locations((5, 15)):
            Rectangle(BOX137_W, BOX137_H)
    extrude(amount=BOX137_DEPTH)


with BuildPart() as cubo138:
    # Box138 → Box138 (new body)
    with BuildSketch(Plane(origin=(21, -54, 112), x_dir=(1, 0, 0), z_dir=(0, 0, 1))):
        with Locations((5, 15)):
            Rectangle(BOX138_W, BOX138_H)
    extrude(amount=BOX138_DEPTH)


with BuildPart() as cubo139:
    # Box139 → Box139 (new body)
    with BuildSketch(Plane(origin=(-55, -54, 112), x_dir=(1, 0, 0), z_dir=(0, 0, 1))):
        with Locations((5, 15)):
            Rectangle(BOX139_W, BOX139_H)
    extrude(amount=BOX139_DEPTH)


with BuildPart() as cubo140:
    # Box140 → Box140 (new body)
    with BuildSketch(Plane(origin=(19, -54, 77), x_dir=(1, 0, 0), z_dir=(0, 0, 1))):
        with Locations((5, 15)):
            Rectangle(BOX140_W, BOX140_H)
    extrude(amount=BOX140_DEPTH)


with BuildPart() as cubo149:
    # Box149 → Box149 (new body)
    with BuildSketch(Plane(origin=(-8, -54, -4), x_dir=(1, 0, 0), z_dir=(0, 0, 1))):
        with Locations((5, 15)):
            Rectangle(BOX149_W, BOX149_H)
    extrude(amount=BOX149_DEPTH)


with BuildPart() as cubo148:
    # Box148 → Box148 (new body)
    with BuildSketch(Plane(origin=(-58, -54, -4), x_dir=(1, 0, 0), z_dir=(0, 0, 1))):
        with Locations((5, 15)):
            Rectangle(BOX148_W, BOX148_H)
    extrude(amount=BOX148_DEPTH)


with BuildPart() as cubo147:
    # Box147 → Box147 (new body)
    with BuildSketch(Plane(origin=(-108, -54, -4), x_dir=(1, 0, 0), z_dir=(0, 0, 1))):
        with Locations((5, 15)):
            Rectangle(BOX147_W, BOX147_H)
    extrude(amount=BOX147_DEPTH)


with BuildPart() as cubo145:
    # Box145 → Box145 (new body)
    with BuildSketch(Plane(origin=(-155, -54, -4), x_dir=(1, 0, 0), z_dir=(0, 0, 1))):
        with Locations((5, 15)):
            Rectangle(BOX145_W, BOX145_H)
    extrude(amount=BOX145_DEPTH)


with BuildPart() as cubo144:
    # Box144 → Box144 (new body)
    with BuildSketch(Plane(origin=(-64, -54, 75), x_dir=(1, 0, 0), z_dir=(0, 0, 1))):
        with Locations((5, 15)):
            Rectangle(BOX144_W, BOX144_H)
    extrude(amount=BOX144_DEPTH)


with BuildPart() as cubo141:
    # Box141 → Box141 (new body)
    with BuildSketch(Plane(origin=(-65, -54, 111), x_dir=(1, 0, 0), z_dir=(0, 0, 1))):
        with Locations((5, 15)):
            Rectangle(BOX141_W, BOX141_H)
    extrude(amount=BOX141_DEPTH)


with BuildPart() as cubo142:
    # Box142 → Box142 (new body)
    with BuildSketch(Plane(origin=(-139, -54, 111), x_dir=(1, 0, 0), z_dir=(0, 0, 1))):
        with Locations((5, 15)):
            Rectangle(BOX142_W, BOX142_H)
    extrude(amount=BOX142_DEPTH)


with BuildPart() as cubo143:
    # Box143 → Box143 (new body)
    with BuildSketch(Plane(origin=(-139, -54, 76), x_dir=(1, 0, 0), z_dir=(0, 0, 1))):
        with Locations((5, 15)):
            Rectangle(BOX143_W, BOX143_H)
    extrude(amount=BOX143_DEPTH)


with BuildPart() as cubo146:
    # Box146 → Box146 (new body)
    with BuildSketch(Plane(origin=(37, -54, -4), x_dir=(1, 0, 0), z_dir=(0, 0, 1))):
        with Locations((5, 15)):
            Rectangle(BOX146_W, BOX146_H)
    extrude(amount=BOX146_DEPTH)


with BuildPart() as parte2completa:
    # Box118 → Box118 (new body)
    with BuildSketch(Plane(origin=(-171, -24, -147), x_dir=(1, 0, 0), z_dir=(0, 0, 1))):
        with Locations((110, 2)):
            Rectangle(BOX118_W, BOX118_H)
    extrude(amount=BOX118_DEPTH)

    # Fusion015: union Cubo119, Cubo120, Cubo121, Cubo122, Cubo123, Cubo124, Cubo126, Cubo125, Cubo127, Cubo129, Cubo128, Cubo130, Cubo131, Cubo132, Cubo133, Cubo135, Cubo134, Cubo136, Cubo137, Cubo138, Cubo139, Cubo140, Cubo149, Cubo148, Cubo147, Cubo145, Cubo144, Cubo141, Cubo142, Cubo143, Cubo146
    add(cubo119.part)
    add(cubo120.part)
    add(cubo121.part)
    add(cubo122.part)
    add(cubo123.part)
    add(cubo124.part)
    add(cubo126.part)
    add(cubo125.part)
    add(cubo127.part)
    add(cubo129.part)
    add(cubo128.part)
    add(cubo130.part)
    add(cubo131.part)
    add(cubo132.part)
    add(cubo133.part)
    add(cubo135.part)
    add(cubo134.part)
    add(cubo136.part)
    add(cubo137.part)
    add(cubo138.part)
    add(cubo139.part)
    add(cubo140.part)
    add(cubo149.part)
    add(cubo148.part)
    add(cubo147.part)
    add(cubo145.part)
    add(cubo144.part)
    add(cubo141.part)
    add(cubo142.part)
    add(cubo143.part)
    add(cubo146.part)


with BuildPart() as parte2completa_1:
    # Fusion015 placement: moved
    add(parte2completa.part.rotate(Axis((0, 0, 0), (0, 0, 1)), FUSION015_PLACEMENT_ANGLE))

    # Fusion016: union Cubo150, Cubo151, Cubo152, Cubo153
    add(cubo150.part)
    add(cubo151.part)
    add(cubo152.part)
    add(cubo153.part)

    # Cut005: cut Cut004
    add(cut004_1.part, mode=Mode.SUBTRACT)

    # Fusion020: union Cubo039
    add(cubo039.part)


solid = parte2completa_1.part
